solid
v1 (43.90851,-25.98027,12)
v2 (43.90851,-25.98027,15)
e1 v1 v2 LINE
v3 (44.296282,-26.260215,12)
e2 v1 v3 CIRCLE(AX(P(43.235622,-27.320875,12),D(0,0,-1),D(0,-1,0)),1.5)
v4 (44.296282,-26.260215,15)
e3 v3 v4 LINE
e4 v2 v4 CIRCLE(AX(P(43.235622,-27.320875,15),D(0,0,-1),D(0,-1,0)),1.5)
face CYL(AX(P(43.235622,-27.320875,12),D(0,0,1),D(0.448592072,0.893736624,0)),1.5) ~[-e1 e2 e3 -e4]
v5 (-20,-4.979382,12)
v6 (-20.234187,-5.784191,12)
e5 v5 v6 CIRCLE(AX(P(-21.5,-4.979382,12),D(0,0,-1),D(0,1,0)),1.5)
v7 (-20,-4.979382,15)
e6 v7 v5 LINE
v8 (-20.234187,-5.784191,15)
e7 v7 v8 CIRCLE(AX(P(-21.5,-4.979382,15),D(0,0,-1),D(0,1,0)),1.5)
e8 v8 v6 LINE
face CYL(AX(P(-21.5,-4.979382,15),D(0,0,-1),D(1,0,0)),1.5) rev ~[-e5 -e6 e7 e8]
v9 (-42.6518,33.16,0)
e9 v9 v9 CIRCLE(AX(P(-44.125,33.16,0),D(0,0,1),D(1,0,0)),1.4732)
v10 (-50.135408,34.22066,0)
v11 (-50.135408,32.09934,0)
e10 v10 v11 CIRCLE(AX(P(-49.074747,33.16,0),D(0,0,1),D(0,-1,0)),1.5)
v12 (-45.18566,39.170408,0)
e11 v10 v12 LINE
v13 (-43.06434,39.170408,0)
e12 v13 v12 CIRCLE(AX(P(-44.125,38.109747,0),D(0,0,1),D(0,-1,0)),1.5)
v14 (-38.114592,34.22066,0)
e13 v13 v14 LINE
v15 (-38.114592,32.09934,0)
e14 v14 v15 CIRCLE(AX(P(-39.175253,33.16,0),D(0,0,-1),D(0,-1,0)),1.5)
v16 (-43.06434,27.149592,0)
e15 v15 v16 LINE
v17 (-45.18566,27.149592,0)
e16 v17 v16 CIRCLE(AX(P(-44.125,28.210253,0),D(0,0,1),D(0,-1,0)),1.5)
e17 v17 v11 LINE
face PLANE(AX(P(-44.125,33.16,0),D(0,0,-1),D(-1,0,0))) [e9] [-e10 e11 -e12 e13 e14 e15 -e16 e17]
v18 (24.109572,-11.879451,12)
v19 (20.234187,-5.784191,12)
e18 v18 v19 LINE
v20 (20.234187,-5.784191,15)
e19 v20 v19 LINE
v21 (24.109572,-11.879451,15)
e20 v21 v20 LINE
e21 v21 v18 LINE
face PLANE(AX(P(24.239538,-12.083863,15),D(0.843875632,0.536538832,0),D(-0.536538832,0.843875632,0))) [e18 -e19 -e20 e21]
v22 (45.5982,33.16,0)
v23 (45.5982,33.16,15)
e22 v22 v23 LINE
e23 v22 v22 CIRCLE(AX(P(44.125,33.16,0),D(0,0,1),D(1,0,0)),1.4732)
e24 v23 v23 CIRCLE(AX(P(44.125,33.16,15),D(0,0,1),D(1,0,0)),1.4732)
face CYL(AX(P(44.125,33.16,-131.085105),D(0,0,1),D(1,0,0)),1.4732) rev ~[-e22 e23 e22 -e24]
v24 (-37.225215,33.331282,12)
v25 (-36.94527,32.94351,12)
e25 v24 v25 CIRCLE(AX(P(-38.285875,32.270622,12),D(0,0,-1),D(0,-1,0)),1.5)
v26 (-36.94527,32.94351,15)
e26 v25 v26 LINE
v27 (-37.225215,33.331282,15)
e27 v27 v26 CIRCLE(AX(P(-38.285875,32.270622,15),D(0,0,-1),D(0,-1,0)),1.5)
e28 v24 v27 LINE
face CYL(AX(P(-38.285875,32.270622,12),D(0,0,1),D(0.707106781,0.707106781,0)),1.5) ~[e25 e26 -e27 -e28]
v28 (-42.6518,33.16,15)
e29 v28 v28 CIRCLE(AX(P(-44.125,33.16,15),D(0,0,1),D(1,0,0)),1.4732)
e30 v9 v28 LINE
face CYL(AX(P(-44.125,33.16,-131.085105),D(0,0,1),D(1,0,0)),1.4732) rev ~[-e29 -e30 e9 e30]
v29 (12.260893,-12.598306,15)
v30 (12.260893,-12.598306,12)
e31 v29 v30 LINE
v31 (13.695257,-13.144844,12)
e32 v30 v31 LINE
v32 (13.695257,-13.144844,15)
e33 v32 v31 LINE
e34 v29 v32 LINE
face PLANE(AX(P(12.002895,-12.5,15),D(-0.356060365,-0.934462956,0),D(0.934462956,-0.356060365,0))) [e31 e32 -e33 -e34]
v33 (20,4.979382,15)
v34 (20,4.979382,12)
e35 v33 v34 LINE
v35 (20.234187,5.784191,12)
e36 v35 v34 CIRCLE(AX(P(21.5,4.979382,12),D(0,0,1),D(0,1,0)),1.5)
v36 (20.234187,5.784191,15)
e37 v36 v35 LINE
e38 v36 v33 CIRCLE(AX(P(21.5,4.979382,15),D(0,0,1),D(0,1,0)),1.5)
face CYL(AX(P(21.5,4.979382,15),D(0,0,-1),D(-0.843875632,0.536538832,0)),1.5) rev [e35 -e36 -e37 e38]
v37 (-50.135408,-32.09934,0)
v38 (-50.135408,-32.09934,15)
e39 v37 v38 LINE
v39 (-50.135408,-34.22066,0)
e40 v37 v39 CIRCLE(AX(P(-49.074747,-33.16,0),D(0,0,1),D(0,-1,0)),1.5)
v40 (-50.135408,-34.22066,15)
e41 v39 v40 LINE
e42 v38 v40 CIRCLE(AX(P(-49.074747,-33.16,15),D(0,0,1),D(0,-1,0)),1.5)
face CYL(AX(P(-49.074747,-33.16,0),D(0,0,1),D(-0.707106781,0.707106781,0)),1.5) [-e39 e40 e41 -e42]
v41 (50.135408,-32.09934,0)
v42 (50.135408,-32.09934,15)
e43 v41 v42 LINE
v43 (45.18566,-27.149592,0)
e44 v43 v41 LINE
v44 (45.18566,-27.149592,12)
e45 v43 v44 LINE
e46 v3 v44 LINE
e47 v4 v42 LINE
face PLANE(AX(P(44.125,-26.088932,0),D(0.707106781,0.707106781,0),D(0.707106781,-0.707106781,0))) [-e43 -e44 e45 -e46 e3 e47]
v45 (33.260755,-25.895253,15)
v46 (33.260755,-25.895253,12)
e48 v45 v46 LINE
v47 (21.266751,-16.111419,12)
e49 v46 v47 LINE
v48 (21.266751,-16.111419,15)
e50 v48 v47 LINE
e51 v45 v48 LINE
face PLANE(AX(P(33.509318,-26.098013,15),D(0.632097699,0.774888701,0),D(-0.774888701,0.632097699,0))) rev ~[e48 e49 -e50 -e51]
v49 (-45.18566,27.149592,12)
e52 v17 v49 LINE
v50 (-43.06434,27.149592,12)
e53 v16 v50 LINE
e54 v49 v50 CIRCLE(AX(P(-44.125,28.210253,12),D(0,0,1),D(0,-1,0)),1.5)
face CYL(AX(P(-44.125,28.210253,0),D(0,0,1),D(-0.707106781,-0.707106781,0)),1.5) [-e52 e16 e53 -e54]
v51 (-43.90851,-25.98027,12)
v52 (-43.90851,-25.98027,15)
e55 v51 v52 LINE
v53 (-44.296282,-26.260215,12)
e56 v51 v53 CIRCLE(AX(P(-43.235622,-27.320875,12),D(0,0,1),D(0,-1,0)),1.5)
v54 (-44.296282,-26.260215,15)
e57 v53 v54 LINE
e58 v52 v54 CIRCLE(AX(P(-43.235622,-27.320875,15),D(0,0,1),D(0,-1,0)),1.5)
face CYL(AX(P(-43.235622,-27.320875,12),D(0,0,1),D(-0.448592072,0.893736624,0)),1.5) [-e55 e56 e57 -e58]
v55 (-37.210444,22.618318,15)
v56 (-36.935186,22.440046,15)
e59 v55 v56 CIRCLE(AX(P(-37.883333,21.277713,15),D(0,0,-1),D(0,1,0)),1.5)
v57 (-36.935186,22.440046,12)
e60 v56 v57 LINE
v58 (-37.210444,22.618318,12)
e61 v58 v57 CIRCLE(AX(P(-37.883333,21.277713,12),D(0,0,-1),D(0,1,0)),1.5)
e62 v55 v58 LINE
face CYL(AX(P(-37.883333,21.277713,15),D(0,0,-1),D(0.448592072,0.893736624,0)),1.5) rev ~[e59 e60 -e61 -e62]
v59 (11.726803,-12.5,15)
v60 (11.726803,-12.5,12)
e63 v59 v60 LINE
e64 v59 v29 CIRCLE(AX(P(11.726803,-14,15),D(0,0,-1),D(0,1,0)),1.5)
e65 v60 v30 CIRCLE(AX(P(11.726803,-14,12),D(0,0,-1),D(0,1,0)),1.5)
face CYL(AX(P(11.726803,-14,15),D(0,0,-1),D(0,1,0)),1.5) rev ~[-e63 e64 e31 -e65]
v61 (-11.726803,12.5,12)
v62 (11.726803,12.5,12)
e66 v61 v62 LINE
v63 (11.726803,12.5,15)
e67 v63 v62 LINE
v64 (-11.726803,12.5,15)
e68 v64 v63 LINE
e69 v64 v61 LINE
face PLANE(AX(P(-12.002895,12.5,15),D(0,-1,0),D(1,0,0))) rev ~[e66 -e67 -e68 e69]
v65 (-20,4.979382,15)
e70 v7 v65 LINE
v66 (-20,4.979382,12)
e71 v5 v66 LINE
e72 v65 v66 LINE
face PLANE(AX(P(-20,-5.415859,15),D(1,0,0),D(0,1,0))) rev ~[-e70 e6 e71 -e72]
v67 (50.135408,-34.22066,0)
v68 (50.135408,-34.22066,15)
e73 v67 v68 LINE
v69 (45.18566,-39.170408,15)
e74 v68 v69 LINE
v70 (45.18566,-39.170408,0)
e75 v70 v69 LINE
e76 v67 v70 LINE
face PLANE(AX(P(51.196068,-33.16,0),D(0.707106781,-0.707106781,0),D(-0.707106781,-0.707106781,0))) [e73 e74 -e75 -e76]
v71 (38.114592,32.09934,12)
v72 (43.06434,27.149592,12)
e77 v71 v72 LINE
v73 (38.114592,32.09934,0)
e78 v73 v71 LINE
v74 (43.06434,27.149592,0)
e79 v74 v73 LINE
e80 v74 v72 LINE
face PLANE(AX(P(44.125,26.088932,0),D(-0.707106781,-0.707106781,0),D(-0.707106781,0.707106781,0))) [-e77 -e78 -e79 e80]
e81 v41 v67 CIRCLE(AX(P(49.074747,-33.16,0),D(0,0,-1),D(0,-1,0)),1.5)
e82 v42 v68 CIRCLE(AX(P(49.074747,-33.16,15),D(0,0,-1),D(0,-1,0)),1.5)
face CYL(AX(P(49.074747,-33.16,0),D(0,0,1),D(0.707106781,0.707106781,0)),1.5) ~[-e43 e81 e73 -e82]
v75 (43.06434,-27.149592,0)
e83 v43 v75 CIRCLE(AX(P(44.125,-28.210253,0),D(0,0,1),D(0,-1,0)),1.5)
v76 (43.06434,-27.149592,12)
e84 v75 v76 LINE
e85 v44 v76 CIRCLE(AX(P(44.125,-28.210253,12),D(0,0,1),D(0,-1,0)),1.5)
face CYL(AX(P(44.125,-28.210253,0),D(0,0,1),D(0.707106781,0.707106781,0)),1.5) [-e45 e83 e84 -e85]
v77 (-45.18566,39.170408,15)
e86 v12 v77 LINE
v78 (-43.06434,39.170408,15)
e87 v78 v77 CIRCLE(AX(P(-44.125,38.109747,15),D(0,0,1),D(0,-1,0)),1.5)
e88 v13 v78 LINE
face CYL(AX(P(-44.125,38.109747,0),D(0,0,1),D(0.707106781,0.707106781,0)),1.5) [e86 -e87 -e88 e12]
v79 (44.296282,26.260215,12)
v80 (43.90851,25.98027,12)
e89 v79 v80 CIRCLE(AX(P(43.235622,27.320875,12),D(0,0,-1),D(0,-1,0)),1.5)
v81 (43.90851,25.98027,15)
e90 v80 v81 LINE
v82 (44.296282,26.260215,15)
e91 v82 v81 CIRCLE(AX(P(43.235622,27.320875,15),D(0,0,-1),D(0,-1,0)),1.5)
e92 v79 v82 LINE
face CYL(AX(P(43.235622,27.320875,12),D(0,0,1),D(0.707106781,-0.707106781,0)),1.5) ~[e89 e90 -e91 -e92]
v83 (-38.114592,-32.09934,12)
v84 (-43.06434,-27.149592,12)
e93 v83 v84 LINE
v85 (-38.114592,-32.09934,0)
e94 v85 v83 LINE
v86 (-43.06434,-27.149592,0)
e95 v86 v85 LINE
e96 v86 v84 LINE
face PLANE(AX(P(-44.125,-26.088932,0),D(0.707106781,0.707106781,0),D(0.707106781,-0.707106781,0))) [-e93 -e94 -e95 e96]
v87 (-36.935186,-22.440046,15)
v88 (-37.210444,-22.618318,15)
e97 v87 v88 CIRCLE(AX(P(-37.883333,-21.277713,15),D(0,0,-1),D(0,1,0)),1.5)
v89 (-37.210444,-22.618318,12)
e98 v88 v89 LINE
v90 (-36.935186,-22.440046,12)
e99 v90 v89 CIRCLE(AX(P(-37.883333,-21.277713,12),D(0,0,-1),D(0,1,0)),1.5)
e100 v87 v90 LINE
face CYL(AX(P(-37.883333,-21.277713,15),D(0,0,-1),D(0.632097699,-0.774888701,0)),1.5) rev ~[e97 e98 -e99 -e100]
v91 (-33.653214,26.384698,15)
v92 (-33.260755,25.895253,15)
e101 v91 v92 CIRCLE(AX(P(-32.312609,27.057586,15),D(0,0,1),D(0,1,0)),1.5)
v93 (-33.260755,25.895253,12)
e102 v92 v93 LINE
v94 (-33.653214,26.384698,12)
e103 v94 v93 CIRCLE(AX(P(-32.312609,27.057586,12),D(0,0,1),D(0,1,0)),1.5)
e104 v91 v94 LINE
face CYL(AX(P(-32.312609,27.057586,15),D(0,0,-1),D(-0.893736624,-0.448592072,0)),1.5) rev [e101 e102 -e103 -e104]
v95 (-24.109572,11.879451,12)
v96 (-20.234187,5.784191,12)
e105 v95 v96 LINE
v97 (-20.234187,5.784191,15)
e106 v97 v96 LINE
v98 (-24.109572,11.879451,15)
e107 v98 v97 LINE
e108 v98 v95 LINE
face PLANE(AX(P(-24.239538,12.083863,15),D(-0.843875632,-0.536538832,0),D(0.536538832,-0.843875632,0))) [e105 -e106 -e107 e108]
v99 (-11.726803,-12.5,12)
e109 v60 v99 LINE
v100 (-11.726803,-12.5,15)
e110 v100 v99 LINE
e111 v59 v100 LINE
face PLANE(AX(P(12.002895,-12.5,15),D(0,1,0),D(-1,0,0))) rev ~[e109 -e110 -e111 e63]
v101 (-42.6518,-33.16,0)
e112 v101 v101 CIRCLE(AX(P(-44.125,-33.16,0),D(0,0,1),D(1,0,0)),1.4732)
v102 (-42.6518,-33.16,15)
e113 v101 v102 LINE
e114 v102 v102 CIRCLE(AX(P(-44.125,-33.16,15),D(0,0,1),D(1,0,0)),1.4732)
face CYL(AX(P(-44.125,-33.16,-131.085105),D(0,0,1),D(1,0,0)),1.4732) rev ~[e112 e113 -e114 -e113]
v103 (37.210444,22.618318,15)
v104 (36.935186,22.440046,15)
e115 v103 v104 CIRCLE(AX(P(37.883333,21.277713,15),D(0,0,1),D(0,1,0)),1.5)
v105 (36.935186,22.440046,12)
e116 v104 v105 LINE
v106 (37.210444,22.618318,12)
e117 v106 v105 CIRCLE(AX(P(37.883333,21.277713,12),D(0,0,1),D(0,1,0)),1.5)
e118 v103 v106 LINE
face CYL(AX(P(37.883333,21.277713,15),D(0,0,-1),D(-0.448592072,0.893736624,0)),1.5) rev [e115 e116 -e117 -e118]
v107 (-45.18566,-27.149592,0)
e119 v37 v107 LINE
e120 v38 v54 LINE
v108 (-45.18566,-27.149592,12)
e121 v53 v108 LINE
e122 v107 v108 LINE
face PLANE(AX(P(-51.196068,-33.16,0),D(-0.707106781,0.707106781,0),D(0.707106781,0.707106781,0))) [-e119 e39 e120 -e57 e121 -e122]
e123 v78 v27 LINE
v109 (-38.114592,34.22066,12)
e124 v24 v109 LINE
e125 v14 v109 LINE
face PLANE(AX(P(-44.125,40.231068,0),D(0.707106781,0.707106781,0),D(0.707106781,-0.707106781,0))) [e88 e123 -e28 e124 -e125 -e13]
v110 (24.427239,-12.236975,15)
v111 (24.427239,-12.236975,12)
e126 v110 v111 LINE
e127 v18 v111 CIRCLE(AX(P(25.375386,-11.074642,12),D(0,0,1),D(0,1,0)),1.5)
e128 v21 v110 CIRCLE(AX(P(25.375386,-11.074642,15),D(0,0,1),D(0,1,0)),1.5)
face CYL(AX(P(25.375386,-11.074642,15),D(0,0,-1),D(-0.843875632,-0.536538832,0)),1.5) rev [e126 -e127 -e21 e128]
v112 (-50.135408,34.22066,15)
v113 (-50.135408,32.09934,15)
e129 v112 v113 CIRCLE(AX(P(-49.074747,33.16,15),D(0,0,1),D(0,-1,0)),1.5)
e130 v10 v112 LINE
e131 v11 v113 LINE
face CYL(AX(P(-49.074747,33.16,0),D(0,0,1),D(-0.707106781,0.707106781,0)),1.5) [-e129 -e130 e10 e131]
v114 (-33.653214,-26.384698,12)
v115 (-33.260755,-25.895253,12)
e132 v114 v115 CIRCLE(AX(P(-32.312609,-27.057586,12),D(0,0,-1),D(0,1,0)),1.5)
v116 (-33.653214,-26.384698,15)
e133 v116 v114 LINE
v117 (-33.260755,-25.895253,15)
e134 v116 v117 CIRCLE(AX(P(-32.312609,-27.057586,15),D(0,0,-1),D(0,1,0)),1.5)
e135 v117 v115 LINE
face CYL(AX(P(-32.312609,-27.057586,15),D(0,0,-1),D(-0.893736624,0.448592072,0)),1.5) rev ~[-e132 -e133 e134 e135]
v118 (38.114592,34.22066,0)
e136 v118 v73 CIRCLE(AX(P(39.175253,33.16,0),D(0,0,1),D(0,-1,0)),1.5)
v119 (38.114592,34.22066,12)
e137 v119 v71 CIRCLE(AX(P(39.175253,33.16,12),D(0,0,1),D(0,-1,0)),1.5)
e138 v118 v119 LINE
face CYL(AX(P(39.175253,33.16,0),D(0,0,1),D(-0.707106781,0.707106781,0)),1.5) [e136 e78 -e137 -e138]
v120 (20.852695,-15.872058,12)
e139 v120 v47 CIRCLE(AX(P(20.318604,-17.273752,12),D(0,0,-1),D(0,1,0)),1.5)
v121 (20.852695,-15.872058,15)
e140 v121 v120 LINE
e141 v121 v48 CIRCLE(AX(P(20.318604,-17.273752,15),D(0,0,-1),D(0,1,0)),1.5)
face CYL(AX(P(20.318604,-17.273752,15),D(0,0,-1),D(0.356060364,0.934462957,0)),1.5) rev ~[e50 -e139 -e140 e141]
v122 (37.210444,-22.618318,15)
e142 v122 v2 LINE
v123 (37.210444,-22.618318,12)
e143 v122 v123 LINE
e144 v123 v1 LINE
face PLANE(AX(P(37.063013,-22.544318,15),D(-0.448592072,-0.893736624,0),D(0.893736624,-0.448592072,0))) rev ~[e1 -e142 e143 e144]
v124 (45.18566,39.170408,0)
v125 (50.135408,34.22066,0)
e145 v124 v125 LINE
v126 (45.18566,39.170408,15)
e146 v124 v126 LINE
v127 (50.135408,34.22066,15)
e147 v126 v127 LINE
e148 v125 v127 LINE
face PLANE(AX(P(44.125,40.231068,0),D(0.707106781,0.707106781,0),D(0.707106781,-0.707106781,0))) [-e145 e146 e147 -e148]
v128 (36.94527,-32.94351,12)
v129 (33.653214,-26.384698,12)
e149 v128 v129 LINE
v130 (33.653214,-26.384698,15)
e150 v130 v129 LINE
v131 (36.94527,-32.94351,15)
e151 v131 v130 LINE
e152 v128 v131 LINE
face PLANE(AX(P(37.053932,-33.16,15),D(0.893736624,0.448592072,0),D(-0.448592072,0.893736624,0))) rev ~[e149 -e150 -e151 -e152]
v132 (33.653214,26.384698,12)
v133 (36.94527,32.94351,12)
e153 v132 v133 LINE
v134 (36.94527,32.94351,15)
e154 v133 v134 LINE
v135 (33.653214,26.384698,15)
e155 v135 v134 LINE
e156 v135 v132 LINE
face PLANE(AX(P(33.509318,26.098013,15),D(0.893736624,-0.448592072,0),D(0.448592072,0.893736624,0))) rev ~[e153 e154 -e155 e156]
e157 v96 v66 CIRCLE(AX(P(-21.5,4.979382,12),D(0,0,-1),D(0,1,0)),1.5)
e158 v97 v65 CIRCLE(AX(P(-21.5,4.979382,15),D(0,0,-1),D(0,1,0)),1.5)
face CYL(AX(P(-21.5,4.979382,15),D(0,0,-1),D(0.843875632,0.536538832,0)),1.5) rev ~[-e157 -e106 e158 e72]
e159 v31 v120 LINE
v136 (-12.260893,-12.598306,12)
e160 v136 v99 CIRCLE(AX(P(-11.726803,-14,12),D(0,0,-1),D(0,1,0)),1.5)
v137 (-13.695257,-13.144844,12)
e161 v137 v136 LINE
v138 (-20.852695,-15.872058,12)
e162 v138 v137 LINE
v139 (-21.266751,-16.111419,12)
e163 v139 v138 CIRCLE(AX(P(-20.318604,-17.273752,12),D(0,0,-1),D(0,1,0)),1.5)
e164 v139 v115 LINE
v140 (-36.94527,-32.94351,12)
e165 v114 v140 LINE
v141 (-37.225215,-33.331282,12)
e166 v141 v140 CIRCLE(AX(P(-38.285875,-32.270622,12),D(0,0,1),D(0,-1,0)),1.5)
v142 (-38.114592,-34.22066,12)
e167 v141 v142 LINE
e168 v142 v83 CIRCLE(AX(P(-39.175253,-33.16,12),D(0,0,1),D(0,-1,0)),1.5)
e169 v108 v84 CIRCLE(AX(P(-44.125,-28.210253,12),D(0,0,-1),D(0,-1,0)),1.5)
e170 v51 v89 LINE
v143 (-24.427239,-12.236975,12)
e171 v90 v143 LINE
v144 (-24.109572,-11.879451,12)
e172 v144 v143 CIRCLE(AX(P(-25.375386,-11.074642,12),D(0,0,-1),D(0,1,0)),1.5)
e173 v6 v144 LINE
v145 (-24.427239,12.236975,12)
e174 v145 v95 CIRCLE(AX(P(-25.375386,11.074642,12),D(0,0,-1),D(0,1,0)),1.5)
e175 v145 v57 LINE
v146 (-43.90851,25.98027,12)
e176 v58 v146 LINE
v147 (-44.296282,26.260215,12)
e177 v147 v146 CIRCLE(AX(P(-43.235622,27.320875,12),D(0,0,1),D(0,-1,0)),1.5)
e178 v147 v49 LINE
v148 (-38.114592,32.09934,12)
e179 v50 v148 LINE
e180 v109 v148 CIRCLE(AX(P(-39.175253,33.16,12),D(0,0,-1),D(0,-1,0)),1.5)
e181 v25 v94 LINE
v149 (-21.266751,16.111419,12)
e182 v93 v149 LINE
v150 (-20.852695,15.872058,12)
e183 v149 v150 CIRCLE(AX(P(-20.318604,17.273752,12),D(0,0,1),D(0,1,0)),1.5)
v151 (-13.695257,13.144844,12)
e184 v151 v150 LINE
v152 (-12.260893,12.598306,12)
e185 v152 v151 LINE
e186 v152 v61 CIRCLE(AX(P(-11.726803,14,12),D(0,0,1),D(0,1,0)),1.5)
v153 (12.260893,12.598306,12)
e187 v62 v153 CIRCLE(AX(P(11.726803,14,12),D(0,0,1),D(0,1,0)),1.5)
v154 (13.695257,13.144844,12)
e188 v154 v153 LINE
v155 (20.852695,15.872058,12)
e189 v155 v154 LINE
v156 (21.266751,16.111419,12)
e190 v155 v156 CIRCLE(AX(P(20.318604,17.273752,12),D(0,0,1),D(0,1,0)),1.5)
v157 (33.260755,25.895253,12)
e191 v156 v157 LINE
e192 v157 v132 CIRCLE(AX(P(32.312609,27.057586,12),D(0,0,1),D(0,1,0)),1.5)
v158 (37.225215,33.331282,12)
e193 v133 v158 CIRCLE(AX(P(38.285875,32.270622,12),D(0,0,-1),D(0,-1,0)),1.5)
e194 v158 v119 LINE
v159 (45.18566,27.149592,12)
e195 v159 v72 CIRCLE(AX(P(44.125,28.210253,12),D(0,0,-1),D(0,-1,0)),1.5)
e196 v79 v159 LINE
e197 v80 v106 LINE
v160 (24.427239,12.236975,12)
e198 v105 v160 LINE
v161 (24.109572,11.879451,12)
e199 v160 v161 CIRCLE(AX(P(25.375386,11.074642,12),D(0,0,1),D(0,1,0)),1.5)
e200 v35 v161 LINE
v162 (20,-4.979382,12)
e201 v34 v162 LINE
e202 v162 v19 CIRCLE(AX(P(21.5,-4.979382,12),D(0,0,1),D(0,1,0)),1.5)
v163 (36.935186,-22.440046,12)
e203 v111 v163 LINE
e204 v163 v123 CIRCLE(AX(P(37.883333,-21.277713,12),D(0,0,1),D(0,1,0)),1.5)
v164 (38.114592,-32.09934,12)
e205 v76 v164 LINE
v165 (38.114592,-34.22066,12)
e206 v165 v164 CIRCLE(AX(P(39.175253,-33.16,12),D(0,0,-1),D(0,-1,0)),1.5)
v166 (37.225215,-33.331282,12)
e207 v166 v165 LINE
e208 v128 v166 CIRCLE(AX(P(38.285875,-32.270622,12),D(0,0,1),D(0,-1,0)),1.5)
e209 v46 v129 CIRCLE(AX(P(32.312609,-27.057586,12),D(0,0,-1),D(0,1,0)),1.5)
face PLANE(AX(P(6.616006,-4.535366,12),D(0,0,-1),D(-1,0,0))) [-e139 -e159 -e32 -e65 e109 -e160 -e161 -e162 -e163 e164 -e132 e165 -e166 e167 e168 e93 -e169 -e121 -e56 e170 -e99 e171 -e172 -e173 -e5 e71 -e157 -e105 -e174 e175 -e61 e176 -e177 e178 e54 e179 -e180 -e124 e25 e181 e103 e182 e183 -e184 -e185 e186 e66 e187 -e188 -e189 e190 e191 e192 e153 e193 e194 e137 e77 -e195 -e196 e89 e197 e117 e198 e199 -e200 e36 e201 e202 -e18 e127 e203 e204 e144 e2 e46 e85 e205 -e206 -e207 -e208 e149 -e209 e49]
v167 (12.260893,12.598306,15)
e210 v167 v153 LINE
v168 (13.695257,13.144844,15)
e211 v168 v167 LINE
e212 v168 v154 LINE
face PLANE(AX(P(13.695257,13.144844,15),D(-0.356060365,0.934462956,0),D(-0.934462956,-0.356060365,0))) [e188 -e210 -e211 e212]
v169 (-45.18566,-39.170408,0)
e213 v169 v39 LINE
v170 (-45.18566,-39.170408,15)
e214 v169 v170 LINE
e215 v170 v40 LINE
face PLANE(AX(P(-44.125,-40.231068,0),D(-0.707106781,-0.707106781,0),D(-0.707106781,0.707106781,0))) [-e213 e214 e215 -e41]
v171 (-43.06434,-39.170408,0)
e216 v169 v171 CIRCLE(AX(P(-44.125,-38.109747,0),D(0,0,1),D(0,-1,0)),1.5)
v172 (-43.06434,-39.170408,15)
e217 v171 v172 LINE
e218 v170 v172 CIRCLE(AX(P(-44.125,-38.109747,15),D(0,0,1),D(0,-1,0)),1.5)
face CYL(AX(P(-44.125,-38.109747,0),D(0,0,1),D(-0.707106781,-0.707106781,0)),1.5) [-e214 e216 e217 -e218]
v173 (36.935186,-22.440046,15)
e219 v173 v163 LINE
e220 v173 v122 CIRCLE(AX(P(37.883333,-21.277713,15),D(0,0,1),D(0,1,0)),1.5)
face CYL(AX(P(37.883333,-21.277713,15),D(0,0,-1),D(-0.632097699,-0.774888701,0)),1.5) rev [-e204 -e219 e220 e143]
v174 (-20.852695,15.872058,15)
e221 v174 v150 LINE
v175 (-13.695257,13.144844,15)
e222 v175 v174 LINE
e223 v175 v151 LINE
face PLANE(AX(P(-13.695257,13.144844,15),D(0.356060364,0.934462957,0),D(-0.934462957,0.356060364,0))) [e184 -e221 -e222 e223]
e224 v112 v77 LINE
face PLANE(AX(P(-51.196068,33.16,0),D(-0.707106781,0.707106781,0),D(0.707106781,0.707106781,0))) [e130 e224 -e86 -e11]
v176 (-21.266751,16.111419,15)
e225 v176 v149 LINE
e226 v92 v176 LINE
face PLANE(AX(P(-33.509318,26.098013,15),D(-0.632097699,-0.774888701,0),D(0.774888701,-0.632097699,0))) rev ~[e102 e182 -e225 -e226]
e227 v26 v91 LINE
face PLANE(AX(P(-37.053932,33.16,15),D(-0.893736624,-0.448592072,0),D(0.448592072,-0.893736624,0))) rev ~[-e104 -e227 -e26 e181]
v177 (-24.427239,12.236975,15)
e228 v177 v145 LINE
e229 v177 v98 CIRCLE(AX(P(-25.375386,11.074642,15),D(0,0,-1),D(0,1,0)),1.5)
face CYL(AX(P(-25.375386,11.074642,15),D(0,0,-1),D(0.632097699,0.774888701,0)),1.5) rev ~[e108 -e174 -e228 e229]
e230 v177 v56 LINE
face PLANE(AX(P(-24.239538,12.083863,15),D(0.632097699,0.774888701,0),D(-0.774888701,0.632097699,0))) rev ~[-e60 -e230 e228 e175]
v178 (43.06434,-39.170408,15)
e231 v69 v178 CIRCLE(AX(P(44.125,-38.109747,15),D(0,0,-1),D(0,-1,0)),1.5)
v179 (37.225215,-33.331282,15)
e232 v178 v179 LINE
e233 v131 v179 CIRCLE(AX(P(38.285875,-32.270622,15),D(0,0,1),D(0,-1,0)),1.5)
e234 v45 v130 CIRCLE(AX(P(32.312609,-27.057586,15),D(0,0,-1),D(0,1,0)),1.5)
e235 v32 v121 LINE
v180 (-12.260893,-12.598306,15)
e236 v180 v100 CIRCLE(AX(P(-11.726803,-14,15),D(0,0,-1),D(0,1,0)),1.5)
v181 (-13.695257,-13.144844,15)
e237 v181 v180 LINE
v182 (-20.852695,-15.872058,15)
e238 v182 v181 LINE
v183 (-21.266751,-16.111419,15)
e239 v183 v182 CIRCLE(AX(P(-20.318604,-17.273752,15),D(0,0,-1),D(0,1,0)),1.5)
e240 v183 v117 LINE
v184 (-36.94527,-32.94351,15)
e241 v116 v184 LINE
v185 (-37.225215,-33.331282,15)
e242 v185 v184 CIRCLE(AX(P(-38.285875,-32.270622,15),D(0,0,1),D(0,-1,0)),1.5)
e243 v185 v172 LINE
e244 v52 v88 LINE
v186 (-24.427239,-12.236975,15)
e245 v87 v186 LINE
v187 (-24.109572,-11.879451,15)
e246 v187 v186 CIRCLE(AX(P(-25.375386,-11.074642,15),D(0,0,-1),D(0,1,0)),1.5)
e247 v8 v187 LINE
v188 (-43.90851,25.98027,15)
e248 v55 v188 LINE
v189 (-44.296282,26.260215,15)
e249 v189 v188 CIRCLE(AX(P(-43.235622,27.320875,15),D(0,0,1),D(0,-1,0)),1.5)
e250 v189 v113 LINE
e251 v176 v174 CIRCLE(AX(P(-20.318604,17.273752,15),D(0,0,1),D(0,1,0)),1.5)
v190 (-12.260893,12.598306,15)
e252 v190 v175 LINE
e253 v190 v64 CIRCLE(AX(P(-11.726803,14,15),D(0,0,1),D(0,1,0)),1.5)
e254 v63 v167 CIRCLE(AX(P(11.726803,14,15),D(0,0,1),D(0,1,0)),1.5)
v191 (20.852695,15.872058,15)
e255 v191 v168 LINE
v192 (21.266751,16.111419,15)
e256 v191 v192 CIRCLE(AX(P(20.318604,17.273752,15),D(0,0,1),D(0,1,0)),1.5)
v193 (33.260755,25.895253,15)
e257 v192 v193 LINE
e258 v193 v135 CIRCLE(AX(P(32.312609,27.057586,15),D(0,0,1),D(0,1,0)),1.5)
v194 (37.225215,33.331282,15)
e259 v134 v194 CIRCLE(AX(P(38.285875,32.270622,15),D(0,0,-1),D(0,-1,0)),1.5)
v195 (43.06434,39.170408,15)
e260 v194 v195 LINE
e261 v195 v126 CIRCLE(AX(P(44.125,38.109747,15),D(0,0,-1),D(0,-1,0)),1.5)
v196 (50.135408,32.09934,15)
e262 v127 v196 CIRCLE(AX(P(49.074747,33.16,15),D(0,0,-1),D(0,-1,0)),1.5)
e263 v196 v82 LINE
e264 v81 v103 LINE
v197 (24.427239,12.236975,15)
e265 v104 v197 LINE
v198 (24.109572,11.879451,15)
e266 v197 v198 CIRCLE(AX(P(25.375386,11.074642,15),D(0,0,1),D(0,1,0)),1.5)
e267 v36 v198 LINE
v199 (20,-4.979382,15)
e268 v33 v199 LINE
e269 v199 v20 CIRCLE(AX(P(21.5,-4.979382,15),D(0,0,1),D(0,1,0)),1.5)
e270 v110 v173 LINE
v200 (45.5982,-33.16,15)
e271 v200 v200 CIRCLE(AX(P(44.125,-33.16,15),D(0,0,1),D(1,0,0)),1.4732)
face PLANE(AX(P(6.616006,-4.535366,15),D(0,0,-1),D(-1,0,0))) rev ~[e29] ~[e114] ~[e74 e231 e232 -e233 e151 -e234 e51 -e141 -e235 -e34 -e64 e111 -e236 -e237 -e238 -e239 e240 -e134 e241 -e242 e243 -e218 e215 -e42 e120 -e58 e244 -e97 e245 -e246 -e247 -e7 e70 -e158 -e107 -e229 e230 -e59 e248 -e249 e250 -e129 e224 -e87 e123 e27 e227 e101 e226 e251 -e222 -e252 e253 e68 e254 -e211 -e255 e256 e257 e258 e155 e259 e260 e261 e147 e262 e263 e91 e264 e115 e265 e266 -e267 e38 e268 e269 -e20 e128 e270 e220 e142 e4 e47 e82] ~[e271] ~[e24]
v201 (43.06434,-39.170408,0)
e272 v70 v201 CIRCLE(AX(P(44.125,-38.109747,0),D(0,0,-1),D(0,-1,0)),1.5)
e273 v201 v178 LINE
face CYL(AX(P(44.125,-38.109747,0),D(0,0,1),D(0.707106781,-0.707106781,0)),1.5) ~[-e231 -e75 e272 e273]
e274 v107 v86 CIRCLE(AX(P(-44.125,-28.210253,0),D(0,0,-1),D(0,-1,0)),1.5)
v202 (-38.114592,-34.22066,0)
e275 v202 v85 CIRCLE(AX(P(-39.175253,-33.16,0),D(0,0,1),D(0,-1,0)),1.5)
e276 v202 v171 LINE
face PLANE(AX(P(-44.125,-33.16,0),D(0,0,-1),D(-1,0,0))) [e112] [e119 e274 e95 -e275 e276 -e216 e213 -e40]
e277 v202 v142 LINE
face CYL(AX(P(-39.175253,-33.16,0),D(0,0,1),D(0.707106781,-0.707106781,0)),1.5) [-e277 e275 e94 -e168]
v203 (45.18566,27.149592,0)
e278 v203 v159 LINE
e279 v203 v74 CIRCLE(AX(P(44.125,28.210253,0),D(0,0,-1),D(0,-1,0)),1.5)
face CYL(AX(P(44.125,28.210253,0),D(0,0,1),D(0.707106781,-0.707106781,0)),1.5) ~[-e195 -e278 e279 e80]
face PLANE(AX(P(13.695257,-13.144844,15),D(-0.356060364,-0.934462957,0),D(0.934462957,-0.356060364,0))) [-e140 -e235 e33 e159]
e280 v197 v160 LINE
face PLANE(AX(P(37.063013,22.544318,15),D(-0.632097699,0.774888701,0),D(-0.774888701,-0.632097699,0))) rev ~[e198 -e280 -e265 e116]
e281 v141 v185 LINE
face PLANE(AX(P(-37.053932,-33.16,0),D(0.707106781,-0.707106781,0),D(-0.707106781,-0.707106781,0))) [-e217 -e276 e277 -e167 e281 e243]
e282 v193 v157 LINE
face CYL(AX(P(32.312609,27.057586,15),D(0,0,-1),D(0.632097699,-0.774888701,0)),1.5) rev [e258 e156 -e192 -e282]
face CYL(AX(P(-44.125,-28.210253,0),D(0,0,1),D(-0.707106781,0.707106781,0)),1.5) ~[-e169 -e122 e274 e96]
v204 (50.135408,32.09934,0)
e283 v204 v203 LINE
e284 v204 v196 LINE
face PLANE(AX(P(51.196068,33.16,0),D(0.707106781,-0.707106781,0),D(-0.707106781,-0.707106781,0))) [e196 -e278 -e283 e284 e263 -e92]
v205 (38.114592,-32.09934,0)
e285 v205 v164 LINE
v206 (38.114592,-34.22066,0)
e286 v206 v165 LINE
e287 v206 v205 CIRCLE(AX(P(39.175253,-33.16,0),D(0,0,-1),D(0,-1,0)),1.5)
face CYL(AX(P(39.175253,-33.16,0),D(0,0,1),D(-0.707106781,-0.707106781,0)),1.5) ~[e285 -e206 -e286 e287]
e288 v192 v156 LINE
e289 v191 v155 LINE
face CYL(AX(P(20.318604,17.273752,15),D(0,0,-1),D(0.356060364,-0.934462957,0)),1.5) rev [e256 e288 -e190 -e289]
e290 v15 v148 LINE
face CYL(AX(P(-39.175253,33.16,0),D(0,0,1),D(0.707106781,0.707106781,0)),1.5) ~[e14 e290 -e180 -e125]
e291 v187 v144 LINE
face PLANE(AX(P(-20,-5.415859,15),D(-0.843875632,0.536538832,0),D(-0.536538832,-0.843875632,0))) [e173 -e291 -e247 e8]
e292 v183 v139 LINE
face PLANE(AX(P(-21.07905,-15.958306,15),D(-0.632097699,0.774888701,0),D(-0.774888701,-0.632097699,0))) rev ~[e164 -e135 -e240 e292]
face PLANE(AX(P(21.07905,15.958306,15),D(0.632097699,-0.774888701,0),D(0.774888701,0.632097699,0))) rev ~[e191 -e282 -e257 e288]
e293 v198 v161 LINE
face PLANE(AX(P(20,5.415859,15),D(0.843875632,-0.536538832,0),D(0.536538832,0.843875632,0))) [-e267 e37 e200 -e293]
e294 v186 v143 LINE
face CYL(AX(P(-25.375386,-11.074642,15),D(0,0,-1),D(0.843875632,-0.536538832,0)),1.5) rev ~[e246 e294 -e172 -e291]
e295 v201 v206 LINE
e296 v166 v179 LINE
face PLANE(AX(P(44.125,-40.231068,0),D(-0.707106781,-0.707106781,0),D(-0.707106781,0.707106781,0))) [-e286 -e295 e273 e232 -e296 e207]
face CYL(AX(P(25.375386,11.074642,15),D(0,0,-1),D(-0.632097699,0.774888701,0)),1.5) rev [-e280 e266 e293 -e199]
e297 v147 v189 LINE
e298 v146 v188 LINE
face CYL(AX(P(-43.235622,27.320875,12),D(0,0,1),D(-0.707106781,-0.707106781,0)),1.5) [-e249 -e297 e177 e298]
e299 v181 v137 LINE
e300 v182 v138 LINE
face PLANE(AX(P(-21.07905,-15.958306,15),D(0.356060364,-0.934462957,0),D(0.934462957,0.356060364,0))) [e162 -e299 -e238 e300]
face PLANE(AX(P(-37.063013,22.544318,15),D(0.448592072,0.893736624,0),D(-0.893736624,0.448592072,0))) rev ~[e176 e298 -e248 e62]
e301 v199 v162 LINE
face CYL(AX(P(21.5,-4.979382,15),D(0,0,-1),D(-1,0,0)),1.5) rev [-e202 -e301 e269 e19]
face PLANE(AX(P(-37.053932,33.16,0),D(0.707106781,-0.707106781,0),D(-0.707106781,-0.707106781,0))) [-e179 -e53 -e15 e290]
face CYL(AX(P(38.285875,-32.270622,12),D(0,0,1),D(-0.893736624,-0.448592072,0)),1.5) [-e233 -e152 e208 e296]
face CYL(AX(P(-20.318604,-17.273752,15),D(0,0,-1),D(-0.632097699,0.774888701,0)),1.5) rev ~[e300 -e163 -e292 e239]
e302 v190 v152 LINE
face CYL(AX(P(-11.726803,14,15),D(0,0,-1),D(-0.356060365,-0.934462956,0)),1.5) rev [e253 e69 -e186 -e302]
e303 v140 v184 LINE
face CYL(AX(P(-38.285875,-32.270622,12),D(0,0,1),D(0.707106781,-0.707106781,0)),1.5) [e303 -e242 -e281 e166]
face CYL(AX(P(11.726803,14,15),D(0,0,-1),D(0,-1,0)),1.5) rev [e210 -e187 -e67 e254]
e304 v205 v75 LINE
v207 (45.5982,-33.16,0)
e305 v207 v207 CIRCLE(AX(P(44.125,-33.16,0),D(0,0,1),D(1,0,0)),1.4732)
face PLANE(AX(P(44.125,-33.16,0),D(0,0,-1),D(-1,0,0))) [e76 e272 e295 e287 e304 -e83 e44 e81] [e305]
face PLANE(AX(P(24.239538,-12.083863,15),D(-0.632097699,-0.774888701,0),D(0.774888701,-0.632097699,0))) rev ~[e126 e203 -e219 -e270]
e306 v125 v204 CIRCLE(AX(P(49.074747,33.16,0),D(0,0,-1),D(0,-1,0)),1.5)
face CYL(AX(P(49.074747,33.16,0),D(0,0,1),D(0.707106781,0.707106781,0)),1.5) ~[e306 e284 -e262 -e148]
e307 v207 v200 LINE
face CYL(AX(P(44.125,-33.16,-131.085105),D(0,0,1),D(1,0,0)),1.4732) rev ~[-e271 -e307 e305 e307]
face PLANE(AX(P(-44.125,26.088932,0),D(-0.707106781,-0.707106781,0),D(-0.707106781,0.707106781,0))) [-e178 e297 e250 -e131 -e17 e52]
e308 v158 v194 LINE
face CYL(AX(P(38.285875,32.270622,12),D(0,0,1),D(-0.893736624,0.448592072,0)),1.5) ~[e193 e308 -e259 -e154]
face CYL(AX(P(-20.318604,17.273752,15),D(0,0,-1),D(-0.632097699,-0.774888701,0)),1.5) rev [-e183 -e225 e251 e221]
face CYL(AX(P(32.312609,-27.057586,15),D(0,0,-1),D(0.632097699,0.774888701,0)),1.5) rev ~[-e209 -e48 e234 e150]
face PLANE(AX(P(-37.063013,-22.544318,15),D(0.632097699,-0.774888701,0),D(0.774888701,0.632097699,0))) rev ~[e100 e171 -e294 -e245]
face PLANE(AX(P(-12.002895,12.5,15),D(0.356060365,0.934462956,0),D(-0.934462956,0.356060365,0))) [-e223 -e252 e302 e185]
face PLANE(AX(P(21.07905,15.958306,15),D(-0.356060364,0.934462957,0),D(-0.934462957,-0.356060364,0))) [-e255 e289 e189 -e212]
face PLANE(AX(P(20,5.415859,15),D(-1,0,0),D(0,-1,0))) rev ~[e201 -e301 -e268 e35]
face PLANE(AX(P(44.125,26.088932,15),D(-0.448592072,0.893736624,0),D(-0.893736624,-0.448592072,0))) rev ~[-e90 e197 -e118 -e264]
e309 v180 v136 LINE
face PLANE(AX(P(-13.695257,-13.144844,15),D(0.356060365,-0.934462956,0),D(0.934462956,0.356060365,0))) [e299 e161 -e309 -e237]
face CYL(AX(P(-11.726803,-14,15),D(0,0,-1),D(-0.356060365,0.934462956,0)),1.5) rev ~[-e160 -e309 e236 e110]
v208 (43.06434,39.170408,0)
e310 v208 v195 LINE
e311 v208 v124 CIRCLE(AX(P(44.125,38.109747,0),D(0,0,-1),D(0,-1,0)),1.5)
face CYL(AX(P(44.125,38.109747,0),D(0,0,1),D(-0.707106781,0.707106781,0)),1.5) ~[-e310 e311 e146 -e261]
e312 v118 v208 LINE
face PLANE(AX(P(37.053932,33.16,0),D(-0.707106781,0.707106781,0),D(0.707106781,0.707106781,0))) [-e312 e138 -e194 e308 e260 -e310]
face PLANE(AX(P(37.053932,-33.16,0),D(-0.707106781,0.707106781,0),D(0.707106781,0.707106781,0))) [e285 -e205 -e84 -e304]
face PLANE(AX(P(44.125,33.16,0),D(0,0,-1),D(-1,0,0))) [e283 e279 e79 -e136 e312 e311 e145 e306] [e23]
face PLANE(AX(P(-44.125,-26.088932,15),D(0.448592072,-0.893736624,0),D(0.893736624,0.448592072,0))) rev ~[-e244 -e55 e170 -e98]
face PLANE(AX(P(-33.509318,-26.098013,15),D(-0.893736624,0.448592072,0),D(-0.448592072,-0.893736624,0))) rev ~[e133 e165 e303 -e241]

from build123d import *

# Parameters (mm, degrees)
BOSS_EXTRUDE1_DEPTH   = 15
BOSS_EXTRUDE1_2_DEPTH = 15
BOSS_EXTRUDE1_3_DEPTH = 15
BOSS_EXTRUDE1_4_DEPTH = 15
BOSS_EXTRUDE2_DEPTH   = 3
F_2_CLEARANCE_HOLE1_D = 2.9464
FILLET2_R             = 1.5
FILLET3_R             = 1.5


with BuildPart() as part:
    # Sketch1 → Boss-Extrude1 (new body)
    with BuildSketch(Plane.XY):
        Polygon((-51.196067812, 33.16), (-44.125, 40.231067812), (-37.053932188, 33.16), (-44.125, 26.088932188), align=None)
    extrude(amount=BOSS_EXTRUDE1_DEPTH)



with BuildPart() as body_2:
    # Sketch1 → Boss-Extrude1 2 (new body)
    with BuildSketch(Plane.XY):
        Polygon((44.125, 26.088932188), (37.053932188, 33.16), (44.125, 40.231067812), (51.196067812, 33.16), align=None)
    extrude(amount=BOSS_EXTRUDE1_2_DEPTH)


with BuildPart() as body_3:
    # Sketch1 → Boss-Extrude1 3 (new body)
    with BuildSketch(Plane.XY):
        Polygon((37.053932188, -33.16), (44.125, -26.088932188), (51.196067812, -33.16), (44.125, -40.231067812), align=None)
    extrude(amount=BOSS_EXTRUDE1_3_DEPTH)


with BuildPart() as body_4:
    # Sketch1 → Boss-Extrude1 4 (new body)
    with BuildSketch(Plane.XY):
        Polygon((-44.125, -40.231067812), (-51.196067812, -33.16), (-44.125, -26.088932188), (-37.053932188, -33.16), align=None)
    extrude(amount=BOSS_EXTRUDE1_4_DEPTH)


with BuildPart() as part_1:
    add(part.part)

    add(body_2.part)  # Boss-Extrude2 merges body 2

    add(body_3.part)  # Boss-Extrude2 merges body 3

    add(body_4.part)  # Boss-Extrude2 merges body 4
    # Sketch2 → Boss-Extrude2 (add)
    with BuildSketch(Plane.XY.offset(15)):
        Polygon((-16.839511506, 12.5), (16.839511506, 12.5), (33.509317925, 26.098012545), (37.053932188, 33.16), (44.125, 26.088932188), (37.063012545, 22.544317925), (20, 8.625556495), (20, -8.625556495), (37.063012545, -22.544317925), (44.125, -26.088932188), (37.053932188, -33.16), (33.509317925, -26.098012545), (16.839511506, -12.5), (-16.839511506, -12.5), (-33.509317925, -26.098012545), (-37.053932188, -33.16), (-44.125, -26.088932188), (-37.063012545, -22.544317925), (-20, -8.625556495), (-20, 8.625556495), align=None)
        Polygon((-13.695257257, 13.144844299), (-21.07904964, 15.95830607), (-16.839511506, 12.5), (-12.002895034, 12.5), align=None)
        Polygon((-16.839511506, 12.5), (-20, 8.625556495), (-37.063012545, 22.544317925), (-44.125, 26.088932188), (-37.053932188, 33.16), (-33.509317925, 26.098012545), align=None)
        Polygon((-20, 8.625556495), (-24.239538134, 12.083862565), (-20, 5.415858854), align=None)
        Polygon((-20, -8.625556495), (-20, -5.415858854), (-24.239538134, -12.083862565), align=None)
        Polygon((-16.839511506, -12.5), (-21.07904964, -15.95830607), (-13.695257257, -13.144844299), (-12.002895034, -12.5), align=None)
        Polygon((16.839511506, -12.5), (12.002895034, -12.5), (13.695257257, -13.144844299), (21.07904964, -15.95830607), align=None)
        Polygon((24.239538134, -12.083862565), (20, -5.415858854), (20, -8.625556495), align=None)
        Polygon((20, 5.415858854), (24.239538134, 12.083862565), (20, 8.625556495), align=None)
        Polygon((13.695257257, 13.144844299), (12.002895034, 12.5), (16.839511506, 12.5), (21.07904964, 15.95830607), align=None)
    extrude(amount=-BOSS_EXTRUDE2_DEPTH)

    # #2 Clearance Hole1 (through all)
    with Locations(Plane(origin=(0, 0, 0), x_dir=(-1, 0, 0), z_dir=(0, 0, -1))):
        with Locations((-44.125, 33.16), (44.125, 33.16), (44.125, -33.16), (-44.125, -33.16)):
            Hole(F_2_CLEARANCE_HOLE1_D / 2)

    # Fillet2
    fillet2_edges = [part_1.edges().sort_by_distance(p)[0] for p in [
        (37.053932188, 33.16, 6),
        (44.125, 26.088932188, 6),
        (51.196067812, 33.16, 7.5),
        (44.125, 40.231067812, 7.5),
        (44.125, -26.088932188, 6),
        (37.053932188, -33.16, 6),
        (44.125, -40.231067812, 7.5),
        (51.196067812, -33.16, 7.5),
        (-44.125, -40.231067812, 7.5),
        (-37.053932188, -33.16, 6),
        (-44.125, -26.088932188, 6),
        (-51.196067812, -33.16, 7.5),
        (-37.053932188, 33.16, 6),
        (-44.125, 26.088932188, 6),
        (-51.196067812, 33.16, 7.5),
        (-44.125, 40.231067812, 7.5),
    ]]
    fillet(fillet2_edges, radius=FILLET2_R)

    # Fillet3
    fillet3_edges = [part_1.edges().sort_by_distance(p)[0] for p in [
        (20, 5.415858854, 13.5),
        (20, -5.415858854, 13.5),
        (24.239538134, -12.083862565, 13.5),
        (37.063012545, -22.544317925, 13.5),
        (44.125, -26.088932188, 13.5),
        (37.053932188, -33.16, 13.5),
        (33.509317925, -26.098012545, 13.5),
        (21.07904964, -15.95830607, 13.5),
        (12.002895034, -12.5, 13.5),
        (-12.002895034, -12.5, 13.5),
        (-21.07904964, -15.95830607, 13.5),
        (-33.509317925, -26.098012545, 13.5),
        (-37.053932188, -33.16, 13.5),
        (-44.125, -26.088932188, 13.5),
        (-37.063012545, -22.544317925, 13.5),
        (-24.239538134, -12.083862565, 13.5),
        (-20, -5.415858854, 13.5),
        (-20, 5.415858854, 13.5),
        (-24.239538134, 12.083862565, 13.5),
        (-37.063012545, 22.544317925, 13.5),
        (-33.509317925, 26.098012545, 13.5),
        (-21.07904964, 15.95830607, 13.5),
        (-12.002895034, 12.5, 13.5),
        (12.002895034, 12.5, 13.5),
        (21.07904964, 15.95830607, 13.5),
        (33.509317925, 26.098012545, 13.5),
        (37.053932188, 33.16, 13.5),
        (44.125, 26.088932188, 13.5),
        (37.063012545, 22.544317925, 13.5),
        (24.239538134, 12.083862565, 13.5),
        (-37.053932188, 33.16, 13.5),
        (-44.125, 26.088932188, 13.5),
    ]]
    fillet(fillet3_edges, radius=FILLET3_R)


solid = part_1.part
